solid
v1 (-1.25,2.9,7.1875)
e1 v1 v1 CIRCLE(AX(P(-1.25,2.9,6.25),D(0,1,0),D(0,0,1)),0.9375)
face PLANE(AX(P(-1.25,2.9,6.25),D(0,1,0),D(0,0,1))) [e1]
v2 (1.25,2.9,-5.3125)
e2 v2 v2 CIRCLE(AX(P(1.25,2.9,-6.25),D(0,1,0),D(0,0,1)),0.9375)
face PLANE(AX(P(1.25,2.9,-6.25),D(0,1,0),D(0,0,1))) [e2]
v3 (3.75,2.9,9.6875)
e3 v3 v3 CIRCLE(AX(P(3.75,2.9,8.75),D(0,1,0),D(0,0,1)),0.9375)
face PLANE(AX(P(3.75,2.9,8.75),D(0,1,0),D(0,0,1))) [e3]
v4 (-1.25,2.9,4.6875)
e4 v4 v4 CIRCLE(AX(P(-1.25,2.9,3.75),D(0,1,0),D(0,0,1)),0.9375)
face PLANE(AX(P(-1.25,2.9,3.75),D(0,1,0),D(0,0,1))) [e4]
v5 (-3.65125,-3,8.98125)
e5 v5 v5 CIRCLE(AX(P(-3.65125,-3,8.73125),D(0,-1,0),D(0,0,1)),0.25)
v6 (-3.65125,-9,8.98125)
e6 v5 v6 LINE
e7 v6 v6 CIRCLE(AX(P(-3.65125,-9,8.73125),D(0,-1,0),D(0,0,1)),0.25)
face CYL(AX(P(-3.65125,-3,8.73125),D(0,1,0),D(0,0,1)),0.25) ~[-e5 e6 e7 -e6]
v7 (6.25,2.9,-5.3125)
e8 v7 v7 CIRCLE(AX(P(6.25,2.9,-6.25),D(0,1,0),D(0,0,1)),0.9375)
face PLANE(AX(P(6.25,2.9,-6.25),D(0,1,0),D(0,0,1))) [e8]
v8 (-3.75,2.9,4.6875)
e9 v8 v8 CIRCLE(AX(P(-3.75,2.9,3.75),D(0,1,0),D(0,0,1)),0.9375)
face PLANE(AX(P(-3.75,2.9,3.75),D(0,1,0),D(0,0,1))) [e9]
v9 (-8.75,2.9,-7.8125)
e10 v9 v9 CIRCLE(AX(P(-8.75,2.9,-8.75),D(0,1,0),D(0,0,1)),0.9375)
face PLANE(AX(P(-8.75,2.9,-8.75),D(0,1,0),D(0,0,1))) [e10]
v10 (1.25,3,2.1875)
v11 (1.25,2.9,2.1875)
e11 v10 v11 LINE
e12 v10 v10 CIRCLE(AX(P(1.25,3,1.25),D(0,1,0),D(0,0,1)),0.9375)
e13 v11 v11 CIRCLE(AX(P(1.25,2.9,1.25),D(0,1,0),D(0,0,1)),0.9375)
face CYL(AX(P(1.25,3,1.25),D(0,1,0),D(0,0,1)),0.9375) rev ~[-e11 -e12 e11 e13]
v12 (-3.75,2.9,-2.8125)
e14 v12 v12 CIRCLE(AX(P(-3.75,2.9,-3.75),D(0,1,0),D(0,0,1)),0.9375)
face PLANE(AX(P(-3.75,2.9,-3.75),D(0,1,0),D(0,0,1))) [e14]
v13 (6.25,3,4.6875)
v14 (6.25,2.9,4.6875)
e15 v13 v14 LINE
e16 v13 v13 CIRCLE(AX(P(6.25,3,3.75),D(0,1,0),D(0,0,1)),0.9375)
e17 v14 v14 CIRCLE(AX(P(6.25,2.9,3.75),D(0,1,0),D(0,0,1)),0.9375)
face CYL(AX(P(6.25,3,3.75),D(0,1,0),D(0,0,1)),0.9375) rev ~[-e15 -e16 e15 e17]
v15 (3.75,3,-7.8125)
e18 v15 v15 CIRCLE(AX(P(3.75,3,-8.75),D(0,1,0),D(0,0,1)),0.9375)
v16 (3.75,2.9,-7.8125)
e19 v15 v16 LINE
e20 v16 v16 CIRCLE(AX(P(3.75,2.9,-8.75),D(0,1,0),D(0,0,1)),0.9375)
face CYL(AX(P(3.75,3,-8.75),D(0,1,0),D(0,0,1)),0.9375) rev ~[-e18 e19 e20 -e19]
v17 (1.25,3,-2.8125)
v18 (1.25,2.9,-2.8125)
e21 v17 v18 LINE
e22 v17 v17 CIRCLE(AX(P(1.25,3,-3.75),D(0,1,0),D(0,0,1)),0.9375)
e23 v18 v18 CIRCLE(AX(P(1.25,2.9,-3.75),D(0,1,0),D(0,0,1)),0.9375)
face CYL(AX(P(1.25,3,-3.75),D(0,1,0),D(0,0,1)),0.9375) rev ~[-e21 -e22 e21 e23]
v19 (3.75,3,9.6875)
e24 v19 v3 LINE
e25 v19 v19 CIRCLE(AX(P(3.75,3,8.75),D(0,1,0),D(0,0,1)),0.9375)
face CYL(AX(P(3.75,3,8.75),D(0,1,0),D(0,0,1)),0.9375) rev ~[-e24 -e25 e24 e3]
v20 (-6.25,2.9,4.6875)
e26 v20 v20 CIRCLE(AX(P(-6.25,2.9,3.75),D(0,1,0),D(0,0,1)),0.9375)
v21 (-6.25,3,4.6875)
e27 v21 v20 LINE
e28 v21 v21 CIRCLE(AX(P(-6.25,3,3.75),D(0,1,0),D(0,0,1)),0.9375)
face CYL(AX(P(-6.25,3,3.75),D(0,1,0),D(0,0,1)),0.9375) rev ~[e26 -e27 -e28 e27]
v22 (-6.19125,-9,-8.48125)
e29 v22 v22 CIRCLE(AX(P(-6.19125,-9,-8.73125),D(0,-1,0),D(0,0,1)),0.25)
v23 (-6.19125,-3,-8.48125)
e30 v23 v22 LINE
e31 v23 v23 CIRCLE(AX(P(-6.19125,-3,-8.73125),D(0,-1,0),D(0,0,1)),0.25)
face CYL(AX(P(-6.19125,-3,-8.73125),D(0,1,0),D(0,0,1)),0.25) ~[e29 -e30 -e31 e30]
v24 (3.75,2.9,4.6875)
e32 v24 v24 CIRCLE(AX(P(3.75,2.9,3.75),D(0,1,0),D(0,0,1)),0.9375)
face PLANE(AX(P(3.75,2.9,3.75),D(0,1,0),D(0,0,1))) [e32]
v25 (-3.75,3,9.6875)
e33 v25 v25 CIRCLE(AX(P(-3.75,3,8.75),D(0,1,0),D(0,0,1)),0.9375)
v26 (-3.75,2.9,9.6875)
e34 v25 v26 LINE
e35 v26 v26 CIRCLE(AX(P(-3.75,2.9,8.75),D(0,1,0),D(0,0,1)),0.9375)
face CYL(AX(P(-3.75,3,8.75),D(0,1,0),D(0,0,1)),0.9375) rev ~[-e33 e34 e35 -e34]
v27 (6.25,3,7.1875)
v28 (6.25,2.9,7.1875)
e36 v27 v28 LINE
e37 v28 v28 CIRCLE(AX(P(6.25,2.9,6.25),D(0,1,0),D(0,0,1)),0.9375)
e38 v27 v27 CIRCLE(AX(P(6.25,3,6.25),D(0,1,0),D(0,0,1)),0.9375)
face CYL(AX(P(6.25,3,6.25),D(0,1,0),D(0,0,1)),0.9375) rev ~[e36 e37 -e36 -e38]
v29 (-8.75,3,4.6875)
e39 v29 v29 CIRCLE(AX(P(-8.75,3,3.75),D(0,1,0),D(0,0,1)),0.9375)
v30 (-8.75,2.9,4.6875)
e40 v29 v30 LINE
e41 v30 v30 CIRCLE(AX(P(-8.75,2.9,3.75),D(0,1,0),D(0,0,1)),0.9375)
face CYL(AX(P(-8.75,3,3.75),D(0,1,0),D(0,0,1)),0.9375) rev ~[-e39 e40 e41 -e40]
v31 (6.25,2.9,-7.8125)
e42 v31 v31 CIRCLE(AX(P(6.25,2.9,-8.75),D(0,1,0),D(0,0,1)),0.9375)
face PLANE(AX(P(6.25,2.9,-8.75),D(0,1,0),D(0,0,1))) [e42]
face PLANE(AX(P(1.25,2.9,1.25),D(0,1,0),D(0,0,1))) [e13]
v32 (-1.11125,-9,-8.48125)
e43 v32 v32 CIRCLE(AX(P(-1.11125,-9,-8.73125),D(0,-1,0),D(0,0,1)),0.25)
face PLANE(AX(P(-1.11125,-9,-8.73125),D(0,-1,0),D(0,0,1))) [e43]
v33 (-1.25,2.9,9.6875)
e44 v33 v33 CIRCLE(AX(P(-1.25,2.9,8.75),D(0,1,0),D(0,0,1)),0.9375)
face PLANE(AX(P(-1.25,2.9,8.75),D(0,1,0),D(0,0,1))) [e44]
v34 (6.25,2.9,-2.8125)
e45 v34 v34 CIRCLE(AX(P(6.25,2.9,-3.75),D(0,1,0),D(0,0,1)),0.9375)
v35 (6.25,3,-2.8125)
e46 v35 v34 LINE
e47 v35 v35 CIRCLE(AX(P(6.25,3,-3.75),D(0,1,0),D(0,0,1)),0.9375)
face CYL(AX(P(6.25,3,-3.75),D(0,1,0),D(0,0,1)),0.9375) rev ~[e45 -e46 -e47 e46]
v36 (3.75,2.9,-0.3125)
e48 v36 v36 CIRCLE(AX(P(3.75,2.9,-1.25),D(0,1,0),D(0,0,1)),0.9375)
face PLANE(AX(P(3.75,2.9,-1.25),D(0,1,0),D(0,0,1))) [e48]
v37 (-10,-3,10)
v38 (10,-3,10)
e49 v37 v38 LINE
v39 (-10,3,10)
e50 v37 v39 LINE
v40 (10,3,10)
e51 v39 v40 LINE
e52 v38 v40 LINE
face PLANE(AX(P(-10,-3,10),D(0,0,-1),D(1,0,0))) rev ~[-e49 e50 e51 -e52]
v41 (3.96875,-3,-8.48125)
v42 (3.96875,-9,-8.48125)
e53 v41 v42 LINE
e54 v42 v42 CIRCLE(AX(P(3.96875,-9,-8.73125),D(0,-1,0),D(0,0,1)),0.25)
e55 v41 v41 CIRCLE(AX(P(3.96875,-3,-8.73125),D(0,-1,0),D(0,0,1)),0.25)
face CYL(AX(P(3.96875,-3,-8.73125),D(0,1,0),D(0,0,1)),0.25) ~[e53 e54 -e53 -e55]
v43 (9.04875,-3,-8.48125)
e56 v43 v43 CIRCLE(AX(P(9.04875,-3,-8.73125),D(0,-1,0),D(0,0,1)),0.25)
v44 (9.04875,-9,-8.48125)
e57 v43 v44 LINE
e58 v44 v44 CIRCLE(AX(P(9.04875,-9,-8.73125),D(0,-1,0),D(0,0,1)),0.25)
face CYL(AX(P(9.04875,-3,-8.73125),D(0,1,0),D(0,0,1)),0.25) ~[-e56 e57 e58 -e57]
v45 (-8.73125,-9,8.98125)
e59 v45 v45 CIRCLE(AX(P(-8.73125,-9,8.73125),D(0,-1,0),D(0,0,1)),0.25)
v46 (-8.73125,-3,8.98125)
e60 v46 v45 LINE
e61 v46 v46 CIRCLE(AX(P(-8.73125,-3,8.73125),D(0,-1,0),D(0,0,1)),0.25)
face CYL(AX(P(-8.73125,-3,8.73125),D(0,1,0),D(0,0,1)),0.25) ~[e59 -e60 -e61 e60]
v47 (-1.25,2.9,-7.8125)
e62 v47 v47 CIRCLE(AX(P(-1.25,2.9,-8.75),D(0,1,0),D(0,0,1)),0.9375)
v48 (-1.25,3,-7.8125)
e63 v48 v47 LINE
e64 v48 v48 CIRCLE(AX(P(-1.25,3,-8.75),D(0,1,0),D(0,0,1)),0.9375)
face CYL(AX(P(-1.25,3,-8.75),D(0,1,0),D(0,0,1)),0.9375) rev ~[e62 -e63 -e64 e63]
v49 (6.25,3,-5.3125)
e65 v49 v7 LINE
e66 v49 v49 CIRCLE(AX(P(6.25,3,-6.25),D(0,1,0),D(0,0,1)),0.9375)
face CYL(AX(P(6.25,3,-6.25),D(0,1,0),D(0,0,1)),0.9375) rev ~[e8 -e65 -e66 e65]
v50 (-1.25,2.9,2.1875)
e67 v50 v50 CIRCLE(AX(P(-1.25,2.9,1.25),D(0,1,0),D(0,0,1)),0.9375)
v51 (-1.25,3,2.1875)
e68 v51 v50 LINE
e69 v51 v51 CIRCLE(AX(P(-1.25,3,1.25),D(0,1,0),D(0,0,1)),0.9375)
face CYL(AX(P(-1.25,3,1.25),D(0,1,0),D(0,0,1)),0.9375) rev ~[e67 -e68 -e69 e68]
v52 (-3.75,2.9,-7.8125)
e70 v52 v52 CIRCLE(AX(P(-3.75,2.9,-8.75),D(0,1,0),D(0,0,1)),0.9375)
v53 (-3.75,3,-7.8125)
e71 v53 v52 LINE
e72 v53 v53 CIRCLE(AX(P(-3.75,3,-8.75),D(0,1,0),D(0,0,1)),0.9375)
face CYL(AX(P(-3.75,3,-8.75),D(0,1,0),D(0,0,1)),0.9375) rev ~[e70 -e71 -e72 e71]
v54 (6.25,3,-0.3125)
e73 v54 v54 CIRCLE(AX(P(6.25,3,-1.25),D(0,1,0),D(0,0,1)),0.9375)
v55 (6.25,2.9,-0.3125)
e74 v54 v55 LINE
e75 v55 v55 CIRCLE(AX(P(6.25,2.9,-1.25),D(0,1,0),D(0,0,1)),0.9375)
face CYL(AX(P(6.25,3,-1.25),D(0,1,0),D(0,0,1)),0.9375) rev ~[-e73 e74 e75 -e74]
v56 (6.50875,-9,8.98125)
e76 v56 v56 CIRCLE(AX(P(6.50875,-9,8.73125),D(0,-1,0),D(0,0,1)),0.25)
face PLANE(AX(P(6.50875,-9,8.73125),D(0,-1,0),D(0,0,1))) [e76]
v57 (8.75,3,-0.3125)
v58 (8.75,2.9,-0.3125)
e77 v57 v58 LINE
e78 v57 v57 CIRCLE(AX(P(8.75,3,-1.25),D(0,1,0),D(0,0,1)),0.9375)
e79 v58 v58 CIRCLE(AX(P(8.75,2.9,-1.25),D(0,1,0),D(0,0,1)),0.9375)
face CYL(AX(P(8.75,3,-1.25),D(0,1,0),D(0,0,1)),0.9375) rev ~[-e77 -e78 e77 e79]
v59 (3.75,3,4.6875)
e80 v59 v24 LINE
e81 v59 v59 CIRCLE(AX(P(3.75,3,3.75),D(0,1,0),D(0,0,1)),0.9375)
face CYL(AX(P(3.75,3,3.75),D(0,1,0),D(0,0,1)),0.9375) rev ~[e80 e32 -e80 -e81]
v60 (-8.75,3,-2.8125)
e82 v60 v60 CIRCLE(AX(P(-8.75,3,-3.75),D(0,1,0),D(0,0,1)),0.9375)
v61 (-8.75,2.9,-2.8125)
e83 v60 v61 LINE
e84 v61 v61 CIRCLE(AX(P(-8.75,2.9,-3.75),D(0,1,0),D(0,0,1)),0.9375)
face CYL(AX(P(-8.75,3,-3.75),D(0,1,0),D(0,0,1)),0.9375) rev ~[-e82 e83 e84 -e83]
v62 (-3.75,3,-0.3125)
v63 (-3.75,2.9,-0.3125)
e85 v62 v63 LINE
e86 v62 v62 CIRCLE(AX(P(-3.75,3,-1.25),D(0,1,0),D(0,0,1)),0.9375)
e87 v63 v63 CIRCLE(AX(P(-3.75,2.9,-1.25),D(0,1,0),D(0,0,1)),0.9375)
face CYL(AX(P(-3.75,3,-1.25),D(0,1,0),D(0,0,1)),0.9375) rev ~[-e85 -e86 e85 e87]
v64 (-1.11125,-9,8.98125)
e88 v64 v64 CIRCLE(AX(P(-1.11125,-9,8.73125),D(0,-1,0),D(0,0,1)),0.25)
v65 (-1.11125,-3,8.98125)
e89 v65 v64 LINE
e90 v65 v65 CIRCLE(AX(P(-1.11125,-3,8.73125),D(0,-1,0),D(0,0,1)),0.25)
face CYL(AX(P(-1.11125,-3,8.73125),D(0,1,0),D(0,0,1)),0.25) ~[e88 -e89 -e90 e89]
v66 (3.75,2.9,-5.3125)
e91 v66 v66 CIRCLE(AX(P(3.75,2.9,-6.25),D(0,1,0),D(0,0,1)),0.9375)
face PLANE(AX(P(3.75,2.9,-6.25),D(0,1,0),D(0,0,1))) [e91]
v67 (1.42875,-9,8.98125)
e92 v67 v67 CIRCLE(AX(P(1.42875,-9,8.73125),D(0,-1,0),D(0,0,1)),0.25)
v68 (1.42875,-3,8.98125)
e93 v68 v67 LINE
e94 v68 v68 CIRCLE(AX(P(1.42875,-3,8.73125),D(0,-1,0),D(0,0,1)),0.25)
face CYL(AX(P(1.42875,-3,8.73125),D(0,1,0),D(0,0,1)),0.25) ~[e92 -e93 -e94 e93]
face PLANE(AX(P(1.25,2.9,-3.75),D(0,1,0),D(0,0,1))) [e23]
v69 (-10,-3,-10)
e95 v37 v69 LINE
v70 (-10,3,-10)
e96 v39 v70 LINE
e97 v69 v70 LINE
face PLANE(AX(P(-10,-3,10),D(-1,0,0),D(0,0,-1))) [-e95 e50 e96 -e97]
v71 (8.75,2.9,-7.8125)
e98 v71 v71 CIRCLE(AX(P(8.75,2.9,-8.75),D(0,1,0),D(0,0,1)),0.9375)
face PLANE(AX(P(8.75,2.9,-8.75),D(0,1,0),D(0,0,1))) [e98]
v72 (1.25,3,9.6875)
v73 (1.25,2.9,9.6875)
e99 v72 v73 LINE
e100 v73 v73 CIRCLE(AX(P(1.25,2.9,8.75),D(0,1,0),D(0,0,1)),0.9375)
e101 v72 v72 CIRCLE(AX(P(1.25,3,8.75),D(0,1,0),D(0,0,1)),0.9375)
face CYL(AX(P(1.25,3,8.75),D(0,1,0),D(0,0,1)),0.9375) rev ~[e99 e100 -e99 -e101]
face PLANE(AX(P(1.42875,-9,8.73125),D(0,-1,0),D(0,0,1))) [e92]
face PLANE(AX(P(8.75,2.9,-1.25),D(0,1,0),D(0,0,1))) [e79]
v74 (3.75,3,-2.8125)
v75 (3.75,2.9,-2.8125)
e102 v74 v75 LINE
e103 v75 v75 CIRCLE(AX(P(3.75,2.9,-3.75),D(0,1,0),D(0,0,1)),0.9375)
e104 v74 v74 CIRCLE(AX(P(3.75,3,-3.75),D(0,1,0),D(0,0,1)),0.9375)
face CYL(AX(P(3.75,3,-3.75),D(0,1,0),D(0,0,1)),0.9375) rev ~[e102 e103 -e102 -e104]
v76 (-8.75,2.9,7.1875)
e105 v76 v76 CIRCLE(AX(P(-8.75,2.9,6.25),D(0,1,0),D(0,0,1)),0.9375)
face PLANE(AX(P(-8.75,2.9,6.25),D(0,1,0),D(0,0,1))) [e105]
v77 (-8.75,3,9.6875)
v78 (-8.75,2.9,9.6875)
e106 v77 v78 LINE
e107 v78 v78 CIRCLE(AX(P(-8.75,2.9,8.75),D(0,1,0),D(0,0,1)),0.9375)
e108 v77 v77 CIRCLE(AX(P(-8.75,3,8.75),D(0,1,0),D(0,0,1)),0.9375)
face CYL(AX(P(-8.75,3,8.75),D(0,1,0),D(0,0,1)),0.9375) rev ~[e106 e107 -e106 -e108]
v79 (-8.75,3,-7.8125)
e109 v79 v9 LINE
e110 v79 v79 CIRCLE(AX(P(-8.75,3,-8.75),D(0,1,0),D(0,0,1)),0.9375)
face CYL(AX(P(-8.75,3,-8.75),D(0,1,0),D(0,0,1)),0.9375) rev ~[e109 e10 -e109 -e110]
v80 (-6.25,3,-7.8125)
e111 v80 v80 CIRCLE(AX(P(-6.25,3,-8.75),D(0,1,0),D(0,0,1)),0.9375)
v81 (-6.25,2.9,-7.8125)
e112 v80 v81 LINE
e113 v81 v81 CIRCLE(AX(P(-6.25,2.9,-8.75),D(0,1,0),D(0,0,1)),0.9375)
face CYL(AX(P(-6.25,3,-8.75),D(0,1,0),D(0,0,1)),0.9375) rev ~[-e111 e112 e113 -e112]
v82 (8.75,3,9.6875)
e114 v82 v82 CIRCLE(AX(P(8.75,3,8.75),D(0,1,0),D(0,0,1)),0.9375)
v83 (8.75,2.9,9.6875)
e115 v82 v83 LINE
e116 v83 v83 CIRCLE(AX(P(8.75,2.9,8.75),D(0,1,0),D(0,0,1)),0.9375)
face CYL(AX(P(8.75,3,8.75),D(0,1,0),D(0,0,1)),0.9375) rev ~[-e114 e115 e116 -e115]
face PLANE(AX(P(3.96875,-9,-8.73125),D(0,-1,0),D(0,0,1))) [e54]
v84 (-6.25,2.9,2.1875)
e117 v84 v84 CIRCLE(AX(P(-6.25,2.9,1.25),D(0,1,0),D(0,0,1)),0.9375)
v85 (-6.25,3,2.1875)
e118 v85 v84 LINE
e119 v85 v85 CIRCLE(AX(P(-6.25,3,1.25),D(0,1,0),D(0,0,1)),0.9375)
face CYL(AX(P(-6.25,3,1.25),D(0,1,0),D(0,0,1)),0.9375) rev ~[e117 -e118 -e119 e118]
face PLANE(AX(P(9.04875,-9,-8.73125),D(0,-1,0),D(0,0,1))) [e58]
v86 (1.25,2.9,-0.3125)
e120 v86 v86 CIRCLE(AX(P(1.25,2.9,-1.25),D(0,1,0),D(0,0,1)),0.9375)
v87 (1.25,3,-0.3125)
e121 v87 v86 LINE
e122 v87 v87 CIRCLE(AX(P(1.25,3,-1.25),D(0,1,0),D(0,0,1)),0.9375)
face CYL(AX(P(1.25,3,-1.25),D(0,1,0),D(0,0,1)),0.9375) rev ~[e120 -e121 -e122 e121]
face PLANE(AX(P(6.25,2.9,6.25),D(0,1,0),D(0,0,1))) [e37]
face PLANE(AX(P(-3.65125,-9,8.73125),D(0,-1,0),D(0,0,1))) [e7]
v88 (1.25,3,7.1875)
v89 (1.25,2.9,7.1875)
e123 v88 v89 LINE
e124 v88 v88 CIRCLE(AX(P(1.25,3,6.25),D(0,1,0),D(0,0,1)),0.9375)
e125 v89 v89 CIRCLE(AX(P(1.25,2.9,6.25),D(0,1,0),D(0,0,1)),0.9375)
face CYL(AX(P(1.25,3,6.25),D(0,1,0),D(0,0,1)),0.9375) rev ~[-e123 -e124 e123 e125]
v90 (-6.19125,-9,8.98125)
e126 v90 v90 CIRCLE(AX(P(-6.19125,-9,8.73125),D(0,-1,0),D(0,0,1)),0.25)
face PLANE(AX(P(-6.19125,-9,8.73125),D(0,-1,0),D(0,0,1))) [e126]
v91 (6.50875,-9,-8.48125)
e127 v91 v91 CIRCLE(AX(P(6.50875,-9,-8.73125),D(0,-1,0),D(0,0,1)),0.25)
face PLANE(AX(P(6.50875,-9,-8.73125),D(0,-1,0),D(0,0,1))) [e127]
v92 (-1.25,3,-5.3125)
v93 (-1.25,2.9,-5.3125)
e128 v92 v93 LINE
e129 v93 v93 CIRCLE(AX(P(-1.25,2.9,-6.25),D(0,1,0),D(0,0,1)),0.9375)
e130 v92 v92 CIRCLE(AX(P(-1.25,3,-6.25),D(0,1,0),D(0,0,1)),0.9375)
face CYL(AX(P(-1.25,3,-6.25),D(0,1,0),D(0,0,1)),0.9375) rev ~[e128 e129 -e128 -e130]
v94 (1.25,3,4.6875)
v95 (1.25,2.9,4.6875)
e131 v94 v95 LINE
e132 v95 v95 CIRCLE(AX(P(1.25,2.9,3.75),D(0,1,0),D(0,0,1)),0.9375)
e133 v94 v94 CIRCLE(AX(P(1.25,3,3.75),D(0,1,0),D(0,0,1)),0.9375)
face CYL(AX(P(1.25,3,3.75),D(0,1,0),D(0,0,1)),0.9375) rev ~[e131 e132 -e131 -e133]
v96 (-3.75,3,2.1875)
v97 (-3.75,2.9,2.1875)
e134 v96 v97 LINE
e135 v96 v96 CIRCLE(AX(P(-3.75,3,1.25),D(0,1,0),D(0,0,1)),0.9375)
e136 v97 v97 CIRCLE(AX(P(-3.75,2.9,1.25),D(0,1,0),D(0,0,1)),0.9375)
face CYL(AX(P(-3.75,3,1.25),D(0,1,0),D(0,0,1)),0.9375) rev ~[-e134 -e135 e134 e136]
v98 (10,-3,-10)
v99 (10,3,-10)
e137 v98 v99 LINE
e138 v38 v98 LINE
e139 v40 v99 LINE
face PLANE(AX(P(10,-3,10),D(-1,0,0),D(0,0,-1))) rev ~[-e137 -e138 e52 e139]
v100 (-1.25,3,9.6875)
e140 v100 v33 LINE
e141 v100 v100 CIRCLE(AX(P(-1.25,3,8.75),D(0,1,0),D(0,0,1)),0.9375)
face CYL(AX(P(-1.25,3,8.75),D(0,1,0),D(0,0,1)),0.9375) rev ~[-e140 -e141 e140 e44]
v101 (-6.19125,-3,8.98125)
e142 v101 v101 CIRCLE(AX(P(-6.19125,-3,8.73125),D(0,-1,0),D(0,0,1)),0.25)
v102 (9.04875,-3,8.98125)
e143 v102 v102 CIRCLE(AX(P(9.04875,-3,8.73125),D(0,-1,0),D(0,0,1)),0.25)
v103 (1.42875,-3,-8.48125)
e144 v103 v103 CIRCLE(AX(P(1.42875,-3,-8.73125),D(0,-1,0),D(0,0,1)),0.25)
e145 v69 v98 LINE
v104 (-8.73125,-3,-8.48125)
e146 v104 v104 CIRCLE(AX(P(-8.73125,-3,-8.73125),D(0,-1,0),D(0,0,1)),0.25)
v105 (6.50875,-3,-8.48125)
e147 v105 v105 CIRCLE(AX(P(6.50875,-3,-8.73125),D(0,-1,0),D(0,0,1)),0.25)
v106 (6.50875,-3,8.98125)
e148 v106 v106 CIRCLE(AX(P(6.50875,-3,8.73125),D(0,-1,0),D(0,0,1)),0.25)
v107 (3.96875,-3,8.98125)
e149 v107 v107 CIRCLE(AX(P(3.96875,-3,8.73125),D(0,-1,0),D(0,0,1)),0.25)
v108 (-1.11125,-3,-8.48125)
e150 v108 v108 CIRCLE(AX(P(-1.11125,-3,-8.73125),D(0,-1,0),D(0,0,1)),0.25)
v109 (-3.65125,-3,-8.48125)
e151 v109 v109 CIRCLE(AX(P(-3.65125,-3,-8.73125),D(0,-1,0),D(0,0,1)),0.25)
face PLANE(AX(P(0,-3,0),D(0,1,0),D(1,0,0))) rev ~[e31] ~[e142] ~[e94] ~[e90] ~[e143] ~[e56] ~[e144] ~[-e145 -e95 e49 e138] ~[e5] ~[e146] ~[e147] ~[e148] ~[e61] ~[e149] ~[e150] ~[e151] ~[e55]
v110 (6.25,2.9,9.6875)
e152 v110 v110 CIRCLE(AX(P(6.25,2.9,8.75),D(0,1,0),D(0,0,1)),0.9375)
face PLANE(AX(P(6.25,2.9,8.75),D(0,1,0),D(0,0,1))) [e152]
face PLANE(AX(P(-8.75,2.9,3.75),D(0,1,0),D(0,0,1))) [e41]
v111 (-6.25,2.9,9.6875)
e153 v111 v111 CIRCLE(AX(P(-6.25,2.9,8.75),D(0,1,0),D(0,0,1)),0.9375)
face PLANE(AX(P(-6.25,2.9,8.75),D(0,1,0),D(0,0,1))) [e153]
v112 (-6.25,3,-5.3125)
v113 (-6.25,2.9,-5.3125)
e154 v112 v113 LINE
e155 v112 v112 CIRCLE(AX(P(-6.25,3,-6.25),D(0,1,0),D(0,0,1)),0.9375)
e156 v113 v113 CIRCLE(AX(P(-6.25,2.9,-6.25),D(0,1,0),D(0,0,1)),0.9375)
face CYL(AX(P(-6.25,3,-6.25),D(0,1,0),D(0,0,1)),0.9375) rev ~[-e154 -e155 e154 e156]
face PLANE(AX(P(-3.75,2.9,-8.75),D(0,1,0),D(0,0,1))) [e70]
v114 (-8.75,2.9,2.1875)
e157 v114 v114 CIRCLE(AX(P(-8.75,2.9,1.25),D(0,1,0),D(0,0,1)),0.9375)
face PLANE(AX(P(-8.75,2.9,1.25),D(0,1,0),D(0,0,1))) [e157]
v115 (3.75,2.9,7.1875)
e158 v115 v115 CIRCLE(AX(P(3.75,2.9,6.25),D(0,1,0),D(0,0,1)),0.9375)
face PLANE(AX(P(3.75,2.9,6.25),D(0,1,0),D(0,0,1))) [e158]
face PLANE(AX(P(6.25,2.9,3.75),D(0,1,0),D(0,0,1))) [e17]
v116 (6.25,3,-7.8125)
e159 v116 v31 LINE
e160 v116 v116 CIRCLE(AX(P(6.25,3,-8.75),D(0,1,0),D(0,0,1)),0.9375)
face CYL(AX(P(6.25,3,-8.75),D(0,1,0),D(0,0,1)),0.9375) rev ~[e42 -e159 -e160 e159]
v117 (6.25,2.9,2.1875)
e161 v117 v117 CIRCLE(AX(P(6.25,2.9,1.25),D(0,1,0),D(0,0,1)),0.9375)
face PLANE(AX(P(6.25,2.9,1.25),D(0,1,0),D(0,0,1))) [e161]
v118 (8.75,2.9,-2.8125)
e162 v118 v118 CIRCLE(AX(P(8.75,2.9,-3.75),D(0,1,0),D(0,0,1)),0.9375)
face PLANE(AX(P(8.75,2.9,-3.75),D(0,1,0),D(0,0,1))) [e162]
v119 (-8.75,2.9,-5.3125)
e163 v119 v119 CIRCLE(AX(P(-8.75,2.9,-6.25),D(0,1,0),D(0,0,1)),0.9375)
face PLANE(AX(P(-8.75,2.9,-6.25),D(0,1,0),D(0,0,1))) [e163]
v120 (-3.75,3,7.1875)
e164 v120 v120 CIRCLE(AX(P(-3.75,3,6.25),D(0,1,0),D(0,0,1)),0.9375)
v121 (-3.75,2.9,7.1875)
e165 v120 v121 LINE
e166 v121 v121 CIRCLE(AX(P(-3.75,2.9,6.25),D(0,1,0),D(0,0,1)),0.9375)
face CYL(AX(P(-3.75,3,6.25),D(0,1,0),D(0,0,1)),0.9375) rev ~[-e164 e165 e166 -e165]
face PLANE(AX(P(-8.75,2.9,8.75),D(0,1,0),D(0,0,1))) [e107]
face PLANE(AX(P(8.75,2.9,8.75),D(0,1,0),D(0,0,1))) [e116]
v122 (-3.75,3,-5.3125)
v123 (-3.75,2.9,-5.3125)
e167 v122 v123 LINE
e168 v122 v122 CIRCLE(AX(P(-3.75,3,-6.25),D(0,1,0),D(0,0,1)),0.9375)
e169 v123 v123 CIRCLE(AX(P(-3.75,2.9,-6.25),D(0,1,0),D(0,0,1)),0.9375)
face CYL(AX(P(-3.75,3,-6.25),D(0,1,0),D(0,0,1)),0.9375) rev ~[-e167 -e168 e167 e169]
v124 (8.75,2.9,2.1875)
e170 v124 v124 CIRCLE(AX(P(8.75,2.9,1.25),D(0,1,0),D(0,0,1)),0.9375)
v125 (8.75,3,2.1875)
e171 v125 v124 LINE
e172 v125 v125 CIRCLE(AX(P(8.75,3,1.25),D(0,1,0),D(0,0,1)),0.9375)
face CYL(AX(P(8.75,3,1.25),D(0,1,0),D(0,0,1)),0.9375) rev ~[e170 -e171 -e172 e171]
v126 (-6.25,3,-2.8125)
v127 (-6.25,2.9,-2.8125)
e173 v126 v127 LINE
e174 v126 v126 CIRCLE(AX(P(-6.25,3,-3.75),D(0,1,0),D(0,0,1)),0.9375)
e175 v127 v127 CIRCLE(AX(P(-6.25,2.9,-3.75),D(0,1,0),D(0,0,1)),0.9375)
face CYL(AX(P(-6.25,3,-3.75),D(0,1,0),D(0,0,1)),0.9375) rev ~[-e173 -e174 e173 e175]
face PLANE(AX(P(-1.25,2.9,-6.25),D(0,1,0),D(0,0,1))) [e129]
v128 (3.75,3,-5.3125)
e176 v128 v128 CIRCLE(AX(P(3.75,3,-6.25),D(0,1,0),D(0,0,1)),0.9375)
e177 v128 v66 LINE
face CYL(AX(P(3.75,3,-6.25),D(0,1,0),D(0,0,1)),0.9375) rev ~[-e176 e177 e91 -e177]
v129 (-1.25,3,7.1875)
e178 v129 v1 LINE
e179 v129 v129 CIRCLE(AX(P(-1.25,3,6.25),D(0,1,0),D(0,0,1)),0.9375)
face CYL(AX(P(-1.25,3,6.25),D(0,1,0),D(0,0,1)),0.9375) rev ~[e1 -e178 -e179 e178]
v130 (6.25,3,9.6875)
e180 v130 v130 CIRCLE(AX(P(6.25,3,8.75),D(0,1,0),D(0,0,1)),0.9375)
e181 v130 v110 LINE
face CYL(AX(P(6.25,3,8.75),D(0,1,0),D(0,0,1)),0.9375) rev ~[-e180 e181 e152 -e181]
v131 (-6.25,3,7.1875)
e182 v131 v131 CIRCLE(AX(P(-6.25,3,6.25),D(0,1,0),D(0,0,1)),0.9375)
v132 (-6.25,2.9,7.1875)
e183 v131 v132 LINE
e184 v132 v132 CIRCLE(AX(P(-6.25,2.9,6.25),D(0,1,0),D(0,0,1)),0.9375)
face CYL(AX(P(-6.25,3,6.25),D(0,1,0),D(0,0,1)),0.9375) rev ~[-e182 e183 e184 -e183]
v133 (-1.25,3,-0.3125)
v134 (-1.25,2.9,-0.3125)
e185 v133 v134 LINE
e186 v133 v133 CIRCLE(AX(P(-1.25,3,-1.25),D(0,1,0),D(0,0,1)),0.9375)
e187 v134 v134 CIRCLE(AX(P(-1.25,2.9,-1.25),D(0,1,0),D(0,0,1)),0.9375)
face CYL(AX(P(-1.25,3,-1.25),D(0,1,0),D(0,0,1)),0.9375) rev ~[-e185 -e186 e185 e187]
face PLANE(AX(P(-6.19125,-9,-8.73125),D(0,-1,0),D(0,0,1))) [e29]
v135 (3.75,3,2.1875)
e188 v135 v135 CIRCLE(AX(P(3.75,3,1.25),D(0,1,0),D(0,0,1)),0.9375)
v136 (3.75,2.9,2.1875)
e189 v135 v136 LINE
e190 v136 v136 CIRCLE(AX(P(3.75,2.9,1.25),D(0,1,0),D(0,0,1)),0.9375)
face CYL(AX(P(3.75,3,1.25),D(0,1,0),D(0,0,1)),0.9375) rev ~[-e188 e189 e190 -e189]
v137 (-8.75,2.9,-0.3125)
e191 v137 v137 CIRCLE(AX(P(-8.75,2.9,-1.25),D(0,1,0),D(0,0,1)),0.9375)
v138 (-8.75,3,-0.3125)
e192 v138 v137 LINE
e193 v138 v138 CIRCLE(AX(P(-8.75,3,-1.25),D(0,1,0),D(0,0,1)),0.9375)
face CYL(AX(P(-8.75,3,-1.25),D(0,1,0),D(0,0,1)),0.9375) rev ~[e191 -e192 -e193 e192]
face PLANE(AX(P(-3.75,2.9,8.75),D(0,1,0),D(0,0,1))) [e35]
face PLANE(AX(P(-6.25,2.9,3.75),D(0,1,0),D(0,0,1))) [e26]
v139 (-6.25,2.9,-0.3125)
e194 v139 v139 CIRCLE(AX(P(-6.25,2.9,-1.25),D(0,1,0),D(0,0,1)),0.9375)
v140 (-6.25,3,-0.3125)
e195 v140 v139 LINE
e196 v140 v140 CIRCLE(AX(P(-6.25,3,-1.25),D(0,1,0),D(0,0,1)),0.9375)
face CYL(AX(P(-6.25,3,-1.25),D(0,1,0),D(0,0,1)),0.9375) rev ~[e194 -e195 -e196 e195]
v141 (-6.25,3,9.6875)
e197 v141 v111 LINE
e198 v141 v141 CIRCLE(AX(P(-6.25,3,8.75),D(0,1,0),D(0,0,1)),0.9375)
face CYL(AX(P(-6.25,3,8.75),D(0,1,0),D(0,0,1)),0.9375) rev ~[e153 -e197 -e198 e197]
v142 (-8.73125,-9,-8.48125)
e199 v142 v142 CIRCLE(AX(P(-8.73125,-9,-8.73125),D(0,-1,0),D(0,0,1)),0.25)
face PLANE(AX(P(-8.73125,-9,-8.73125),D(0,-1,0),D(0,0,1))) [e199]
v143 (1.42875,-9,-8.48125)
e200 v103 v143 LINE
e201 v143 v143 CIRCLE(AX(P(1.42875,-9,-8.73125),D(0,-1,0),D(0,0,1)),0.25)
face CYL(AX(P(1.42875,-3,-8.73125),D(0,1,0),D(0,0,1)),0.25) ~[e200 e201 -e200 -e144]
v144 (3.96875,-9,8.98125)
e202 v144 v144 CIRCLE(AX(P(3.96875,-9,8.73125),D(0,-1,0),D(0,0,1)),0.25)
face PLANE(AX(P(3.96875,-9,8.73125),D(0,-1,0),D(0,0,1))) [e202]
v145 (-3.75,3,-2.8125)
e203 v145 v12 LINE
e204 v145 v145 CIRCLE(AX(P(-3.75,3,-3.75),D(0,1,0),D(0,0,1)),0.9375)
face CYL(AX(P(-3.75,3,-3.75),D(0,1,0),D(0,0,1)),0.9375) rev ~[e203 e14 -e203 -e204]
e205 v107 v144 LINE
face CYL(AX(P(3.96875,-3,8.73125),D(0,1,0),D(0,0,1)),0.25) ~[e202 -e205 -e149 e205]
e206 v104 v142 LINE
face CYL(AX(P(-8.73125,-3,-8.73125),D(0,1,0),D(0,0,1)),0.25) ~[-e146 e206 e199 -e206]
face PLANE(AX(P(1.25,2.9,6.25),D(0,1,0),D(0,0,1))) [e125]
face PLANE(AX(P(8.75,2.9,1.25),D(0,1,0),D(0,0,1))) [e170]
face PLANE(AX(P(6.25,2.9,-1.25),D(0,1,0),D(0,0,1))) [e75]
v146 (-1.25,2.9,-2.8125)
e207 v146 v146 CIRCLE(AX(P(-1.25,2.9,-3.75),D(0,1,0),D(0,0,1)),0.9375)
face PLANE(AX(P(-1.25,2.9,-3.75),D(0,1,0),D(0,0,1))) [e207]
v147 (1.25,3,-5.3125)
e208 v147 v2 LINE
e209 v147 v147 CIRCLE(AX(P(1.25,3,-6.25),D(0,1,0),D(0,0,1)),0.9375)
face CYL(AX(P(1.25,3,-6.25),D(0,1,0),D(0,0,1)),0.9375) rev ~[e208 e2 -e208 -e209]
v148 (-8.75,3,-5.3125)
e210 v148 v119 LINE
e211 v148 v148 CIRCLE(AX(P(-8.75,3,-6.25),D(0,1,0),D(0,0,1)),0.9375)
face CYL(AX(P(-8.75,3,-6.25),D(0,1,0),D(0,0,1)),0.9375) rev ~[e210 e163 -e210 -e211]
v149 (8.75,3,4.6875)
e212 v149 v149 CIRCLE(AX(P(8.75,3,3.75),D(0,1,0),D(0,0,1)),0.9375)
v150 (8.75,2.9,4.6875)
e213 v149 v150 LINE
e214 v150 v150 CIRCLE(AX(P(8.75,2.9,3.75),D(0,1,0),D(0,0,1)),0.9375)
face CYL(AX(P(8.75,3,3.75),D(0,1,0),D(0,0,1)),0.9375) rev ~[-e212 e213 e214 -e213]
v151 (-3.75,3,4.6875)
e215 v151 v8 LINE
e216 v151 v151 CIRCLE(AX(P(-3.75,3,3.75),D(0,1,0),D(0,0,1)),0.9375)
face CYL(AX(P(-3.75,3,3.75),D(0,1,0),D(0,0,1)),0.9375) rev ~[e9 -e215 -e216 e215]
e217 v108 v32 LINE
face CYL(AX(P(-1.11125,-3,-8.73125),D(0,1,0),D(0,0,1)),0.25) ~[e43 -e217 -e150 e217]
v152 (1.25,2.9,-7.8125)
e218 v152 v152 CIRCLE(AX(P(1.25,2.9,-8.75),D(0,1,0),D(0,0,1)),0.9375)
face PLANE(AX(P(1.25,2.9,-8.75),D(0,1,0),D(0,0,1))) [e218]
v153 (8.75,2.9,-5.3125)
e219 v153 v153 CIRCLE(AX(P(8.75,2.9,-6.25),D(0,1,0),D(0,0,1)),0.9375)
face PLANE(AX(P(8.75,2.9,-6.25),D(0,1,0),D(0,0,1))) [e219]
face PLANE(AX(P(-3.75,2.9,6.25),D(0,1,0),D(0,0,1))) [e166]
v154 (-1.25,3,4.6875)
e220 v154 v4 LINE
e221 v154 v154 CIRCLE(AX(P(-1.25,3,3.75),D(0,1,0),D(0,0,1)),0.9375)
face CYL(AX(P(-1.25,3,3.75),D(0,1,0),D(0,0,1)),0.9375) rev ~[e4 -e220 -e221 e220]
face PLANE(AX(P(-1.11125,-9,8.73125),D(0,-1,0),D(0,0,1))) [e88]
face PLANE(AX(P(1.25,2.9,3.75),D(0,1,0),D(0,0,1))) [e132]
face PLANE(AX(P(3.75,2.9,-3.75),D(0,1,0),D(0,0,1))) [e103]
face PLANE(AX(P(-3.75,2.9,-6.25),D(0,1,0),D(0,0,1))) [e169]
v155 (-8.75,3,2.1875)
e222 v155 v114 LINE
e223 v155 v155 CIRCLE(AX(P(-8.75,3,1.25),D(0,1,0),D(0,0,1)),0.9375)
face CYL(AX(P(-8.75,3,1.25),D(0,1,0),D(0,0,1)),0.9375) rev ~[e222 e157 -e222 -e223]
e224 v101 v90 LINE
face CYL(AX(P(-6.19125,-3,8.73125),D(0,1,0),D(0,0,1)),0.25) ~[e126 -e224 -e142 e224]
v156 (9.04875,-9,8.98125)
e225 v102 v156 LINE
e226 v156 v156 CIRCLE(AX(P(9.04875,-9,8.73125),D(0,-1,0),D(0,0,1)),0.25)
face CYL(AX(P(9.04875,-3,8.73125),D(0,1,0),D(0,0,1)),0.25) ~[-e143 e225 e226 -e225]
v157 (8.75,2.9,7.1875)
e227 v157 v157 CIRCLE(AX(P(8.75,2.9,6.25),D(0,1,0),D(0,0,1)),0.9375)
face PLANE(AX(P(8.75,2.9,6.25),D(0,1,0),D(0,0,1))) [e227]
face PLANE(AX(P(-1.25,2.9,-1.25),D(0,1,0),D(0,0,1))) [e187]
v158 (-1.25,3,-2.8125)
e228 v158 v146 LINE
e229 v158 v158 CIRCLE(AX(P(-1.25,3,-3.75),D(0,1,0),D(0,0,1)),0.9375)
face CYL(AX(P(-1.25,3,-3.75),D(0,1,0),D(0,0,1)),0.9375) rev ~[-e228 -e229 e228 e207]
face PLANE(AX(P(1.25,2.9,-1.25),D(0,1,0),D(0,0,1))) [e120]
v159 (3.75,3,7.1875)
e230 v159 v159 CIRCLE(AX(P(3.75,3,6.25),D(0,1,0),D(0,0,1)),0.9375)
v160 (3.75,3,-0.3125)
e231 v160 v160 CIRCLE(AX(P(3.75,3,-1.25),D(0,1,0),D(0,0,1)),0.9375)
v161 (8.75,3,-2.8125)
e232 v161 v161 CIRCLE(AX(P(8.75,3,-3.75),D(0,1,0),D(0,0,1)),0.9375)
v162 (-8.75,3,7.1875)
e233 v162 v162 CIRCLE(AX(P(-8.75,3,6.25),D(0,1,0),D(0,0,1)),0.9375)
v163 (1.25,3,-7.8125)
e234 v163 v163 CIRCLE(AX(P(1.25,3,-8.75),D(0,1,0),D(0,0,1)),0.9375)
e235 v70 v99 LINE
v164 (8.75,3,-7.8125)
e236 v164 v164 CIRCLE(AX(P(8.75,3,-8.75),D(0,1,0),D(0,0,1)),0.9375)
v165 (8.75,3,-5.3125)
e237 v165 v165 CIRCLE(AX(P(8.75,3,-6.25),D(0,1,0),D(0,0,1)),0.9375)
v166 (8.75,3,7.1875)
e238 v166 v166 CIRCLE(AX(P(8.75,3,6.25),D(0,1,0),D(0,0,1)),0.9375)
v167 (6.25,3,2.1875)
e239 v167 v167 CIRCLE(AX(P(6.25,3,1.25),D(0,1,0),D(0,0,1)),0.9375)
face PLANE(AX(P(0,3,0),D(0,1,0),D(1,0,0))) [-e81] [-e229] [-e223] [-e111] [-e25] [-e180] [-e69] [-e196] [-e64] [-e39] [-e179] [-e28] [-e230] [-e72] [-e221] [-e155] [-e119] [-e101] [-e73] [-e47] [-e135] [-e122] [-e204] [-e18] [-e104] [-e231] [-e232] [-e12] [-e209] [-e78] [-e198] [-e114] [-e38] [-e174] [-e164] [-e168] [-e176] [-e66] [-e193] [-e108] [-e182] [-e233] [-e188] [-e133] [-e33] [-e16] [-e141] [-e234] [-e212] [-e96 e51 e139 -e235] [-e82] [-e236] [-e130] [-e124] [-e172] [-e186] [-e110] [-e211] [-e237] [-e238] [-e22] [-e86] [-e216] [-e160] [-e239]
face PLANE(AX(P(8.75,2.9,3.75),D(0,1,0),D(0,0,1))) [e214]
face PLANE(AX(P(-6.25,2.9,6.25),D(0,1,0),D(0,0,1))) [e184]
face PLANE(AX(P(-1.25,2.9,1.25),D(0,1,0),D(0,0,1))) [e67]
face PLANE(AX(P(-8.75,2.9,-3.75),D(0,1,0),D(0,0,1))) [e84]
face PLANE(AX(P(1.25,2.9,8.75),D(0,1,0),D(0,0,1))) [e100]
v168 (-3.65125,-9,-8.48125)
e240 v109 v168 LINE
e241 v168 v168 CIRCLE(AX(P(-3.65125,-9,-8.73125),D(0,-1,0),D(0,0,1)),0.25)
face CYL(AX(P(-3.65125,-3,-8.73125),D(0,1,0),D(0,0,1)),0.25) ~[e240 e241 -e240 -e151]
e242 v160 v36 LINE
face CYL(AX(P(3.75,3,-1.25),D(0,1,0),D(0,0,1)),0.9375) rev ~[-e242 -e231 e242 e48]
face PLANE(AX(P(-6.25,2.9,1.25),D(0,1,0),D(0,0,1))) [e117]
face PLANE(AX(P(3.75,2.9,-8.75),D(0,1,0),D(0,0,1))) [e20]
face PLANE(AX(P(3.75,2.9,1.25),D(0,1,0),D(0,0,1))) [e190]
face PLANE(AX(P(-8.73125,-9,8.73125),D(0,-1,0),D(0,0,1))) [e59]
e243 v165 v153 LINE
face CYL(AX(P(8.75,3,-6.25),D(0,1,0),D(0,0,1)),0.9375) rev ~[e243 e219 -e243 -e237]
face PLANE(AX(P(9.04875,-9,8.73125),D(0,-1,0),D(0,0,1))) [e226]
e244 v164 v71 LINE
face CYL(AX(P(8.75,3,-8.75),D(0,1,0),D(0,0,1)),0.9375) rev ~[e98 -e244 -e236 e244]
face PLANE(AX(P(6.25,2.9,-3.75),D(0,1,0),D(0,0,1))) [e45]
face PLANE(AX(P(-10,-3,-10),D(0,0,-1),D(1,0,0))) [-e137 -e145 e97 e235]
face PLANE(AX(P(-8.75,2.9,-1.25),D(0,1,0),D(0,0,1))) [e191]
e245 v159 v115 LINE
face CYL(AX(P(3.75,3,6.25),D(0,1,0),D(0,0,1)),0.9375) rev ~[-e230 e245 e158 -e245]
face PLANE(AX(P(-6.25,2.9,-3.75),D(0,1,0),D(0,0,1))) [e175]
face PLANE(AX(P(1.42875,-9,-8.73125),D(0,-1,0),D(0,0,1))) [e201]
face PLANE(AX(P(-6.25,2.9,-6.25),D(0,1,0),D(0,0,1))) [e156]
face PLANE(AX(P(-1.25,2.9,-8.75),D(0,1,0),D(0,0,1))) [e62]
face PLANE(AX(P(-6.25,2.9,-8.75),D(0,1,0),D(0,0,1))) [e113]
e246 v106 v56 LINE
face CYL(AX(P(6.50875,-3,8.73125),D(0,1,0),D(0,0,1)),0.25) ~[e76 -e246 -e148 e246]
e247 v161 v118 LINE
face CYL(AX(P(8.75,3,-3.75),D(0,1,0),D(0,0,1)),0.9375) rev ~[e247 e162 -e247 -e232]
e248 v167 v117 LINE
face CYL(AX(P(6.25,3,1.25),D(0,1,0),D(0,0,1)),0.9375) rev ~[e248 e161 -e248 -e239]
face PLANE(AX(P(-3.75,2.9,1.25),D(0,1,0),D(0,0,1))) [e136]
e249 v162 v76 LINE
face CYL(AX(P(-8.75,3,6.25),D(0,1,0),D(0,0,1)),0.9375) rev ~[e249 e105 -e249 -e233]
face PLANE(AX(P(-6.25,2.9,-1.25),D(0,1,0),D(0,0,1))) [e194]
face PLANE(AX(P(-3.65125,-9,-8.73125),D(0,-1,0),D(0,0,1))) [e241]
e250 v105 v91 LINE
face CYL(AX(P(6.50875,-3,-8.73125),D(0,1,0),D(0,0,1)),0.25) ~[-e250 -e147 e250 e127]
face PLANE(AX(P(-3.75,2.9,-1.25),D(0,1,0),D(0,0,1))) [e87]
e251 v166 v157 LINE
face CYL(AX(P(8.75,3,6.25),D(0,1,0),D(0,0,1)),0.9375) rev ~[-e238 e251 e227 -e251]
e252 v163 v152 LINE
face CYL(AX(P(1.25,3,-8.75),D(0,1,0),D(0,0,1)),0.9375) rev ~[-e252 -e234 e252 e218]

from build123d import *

# Parameters (mm, degrees)
SALIENTE_EXTRUIR1_DEPTH      = 3
SALIENTE_EXTRUIR1_DEPTH_BACK = 3
CROQUIS1_W                   = 20
CROQUIS1_H                   = 20
CROQUIS2_R                   = 0.9375
CORTAR_EXTRUIR4_DEPTH        = 0.1
MATRIZL1_COUNT               = 8
MATRIZL1_PITCH               = 2.5
MATRIZL1_COUNT_DIR2          = 8
MATRIZL1_PITCH_DIR2          = 2.5
CROQUIS4_R                   = 0.25
SALIENTE_EXTRUIR2_DEPTH      = 6
MATRIZL2_COUNT               = 8
MATRIZL2_PITCH               = 2.54
MATRIZL2_COUNT_DIR2          = 2
MATRIZL2_PITCH_DIR2          = 17.4625


with BuildPart() as part:
    # Croquis1 → Saliente-Extruir1 (new, two sides: drawn at the far end of the back side and taken through both)
    with BuildSketch(Plane(origin=(0, 0, 0), x_dir=(1, 0, 0), z_dir=(0, 1, 0)).offset(-SALIENTE_EXTRUIR1_DEPTH_BACK)):
        Rectangle(CROQUIS1_W, CROQUIS1_H)
    extrude(amount=SALIENTE_EXTRUIR1_DEPTH + SALIENTE_EXTRUIR1_DEPTH_BACK)

    # Croquis2 → Cortar-Extruir4 (cut)
    with BuildSketch(Plane(origin=(0, 3, 0), x_dir=(1, 0, 0), z_dir=(0, 1, 0))):
        with Locations((-8.75, 8.75)):
            Circle(CROQUIS2_R)
    cortar_extruir4 = extrude(amount=-CORTAR_EXTRUIR4_DEPTH, mode=Mode.SUBTRACT)

    # MatrizL1: Cortar-Extruir4 8 × 8
    with Locations(*[(i * MATRIZL1_PITCH, 0, j * MATRIZL1_PITCH_DIR2) for i in range(MATRIZL1_COUNT) for j in range(MATRIZL1_COUNT_DIR2) if (i, j) != (0, 0)]):
        add(cortar_extruir4, mode=Mode.SUBTRACT)

    # Croquis4 → Saliente-Extruir2 (add)
    with BuildSketch(Plane(origin=(0, -3, 0), x_dir=(-1, 0, 0), z_dir=(0, -1, 0))):
        with Locations((8.73125, -8.73125)):
            Circle(CROQUIS4_R)
    saliente_extruir2 = extrude(amount=SALIENTE_EXTRUIR2_DEPTH)

    # MatrizL2: Saliente-Extruir2 8 × 2
    with Locations(*[(i * MATRIZL2_PITCH, 0, -j * MATRIZL2_PITCH_DIR2) for i in range(MATRIZL2_COUNT) for j in range(MATRIZL2_COUNT_DIR2) if (i, j) != (0, 0)]):
        add(saliente_extruir2)


solid = part.part
